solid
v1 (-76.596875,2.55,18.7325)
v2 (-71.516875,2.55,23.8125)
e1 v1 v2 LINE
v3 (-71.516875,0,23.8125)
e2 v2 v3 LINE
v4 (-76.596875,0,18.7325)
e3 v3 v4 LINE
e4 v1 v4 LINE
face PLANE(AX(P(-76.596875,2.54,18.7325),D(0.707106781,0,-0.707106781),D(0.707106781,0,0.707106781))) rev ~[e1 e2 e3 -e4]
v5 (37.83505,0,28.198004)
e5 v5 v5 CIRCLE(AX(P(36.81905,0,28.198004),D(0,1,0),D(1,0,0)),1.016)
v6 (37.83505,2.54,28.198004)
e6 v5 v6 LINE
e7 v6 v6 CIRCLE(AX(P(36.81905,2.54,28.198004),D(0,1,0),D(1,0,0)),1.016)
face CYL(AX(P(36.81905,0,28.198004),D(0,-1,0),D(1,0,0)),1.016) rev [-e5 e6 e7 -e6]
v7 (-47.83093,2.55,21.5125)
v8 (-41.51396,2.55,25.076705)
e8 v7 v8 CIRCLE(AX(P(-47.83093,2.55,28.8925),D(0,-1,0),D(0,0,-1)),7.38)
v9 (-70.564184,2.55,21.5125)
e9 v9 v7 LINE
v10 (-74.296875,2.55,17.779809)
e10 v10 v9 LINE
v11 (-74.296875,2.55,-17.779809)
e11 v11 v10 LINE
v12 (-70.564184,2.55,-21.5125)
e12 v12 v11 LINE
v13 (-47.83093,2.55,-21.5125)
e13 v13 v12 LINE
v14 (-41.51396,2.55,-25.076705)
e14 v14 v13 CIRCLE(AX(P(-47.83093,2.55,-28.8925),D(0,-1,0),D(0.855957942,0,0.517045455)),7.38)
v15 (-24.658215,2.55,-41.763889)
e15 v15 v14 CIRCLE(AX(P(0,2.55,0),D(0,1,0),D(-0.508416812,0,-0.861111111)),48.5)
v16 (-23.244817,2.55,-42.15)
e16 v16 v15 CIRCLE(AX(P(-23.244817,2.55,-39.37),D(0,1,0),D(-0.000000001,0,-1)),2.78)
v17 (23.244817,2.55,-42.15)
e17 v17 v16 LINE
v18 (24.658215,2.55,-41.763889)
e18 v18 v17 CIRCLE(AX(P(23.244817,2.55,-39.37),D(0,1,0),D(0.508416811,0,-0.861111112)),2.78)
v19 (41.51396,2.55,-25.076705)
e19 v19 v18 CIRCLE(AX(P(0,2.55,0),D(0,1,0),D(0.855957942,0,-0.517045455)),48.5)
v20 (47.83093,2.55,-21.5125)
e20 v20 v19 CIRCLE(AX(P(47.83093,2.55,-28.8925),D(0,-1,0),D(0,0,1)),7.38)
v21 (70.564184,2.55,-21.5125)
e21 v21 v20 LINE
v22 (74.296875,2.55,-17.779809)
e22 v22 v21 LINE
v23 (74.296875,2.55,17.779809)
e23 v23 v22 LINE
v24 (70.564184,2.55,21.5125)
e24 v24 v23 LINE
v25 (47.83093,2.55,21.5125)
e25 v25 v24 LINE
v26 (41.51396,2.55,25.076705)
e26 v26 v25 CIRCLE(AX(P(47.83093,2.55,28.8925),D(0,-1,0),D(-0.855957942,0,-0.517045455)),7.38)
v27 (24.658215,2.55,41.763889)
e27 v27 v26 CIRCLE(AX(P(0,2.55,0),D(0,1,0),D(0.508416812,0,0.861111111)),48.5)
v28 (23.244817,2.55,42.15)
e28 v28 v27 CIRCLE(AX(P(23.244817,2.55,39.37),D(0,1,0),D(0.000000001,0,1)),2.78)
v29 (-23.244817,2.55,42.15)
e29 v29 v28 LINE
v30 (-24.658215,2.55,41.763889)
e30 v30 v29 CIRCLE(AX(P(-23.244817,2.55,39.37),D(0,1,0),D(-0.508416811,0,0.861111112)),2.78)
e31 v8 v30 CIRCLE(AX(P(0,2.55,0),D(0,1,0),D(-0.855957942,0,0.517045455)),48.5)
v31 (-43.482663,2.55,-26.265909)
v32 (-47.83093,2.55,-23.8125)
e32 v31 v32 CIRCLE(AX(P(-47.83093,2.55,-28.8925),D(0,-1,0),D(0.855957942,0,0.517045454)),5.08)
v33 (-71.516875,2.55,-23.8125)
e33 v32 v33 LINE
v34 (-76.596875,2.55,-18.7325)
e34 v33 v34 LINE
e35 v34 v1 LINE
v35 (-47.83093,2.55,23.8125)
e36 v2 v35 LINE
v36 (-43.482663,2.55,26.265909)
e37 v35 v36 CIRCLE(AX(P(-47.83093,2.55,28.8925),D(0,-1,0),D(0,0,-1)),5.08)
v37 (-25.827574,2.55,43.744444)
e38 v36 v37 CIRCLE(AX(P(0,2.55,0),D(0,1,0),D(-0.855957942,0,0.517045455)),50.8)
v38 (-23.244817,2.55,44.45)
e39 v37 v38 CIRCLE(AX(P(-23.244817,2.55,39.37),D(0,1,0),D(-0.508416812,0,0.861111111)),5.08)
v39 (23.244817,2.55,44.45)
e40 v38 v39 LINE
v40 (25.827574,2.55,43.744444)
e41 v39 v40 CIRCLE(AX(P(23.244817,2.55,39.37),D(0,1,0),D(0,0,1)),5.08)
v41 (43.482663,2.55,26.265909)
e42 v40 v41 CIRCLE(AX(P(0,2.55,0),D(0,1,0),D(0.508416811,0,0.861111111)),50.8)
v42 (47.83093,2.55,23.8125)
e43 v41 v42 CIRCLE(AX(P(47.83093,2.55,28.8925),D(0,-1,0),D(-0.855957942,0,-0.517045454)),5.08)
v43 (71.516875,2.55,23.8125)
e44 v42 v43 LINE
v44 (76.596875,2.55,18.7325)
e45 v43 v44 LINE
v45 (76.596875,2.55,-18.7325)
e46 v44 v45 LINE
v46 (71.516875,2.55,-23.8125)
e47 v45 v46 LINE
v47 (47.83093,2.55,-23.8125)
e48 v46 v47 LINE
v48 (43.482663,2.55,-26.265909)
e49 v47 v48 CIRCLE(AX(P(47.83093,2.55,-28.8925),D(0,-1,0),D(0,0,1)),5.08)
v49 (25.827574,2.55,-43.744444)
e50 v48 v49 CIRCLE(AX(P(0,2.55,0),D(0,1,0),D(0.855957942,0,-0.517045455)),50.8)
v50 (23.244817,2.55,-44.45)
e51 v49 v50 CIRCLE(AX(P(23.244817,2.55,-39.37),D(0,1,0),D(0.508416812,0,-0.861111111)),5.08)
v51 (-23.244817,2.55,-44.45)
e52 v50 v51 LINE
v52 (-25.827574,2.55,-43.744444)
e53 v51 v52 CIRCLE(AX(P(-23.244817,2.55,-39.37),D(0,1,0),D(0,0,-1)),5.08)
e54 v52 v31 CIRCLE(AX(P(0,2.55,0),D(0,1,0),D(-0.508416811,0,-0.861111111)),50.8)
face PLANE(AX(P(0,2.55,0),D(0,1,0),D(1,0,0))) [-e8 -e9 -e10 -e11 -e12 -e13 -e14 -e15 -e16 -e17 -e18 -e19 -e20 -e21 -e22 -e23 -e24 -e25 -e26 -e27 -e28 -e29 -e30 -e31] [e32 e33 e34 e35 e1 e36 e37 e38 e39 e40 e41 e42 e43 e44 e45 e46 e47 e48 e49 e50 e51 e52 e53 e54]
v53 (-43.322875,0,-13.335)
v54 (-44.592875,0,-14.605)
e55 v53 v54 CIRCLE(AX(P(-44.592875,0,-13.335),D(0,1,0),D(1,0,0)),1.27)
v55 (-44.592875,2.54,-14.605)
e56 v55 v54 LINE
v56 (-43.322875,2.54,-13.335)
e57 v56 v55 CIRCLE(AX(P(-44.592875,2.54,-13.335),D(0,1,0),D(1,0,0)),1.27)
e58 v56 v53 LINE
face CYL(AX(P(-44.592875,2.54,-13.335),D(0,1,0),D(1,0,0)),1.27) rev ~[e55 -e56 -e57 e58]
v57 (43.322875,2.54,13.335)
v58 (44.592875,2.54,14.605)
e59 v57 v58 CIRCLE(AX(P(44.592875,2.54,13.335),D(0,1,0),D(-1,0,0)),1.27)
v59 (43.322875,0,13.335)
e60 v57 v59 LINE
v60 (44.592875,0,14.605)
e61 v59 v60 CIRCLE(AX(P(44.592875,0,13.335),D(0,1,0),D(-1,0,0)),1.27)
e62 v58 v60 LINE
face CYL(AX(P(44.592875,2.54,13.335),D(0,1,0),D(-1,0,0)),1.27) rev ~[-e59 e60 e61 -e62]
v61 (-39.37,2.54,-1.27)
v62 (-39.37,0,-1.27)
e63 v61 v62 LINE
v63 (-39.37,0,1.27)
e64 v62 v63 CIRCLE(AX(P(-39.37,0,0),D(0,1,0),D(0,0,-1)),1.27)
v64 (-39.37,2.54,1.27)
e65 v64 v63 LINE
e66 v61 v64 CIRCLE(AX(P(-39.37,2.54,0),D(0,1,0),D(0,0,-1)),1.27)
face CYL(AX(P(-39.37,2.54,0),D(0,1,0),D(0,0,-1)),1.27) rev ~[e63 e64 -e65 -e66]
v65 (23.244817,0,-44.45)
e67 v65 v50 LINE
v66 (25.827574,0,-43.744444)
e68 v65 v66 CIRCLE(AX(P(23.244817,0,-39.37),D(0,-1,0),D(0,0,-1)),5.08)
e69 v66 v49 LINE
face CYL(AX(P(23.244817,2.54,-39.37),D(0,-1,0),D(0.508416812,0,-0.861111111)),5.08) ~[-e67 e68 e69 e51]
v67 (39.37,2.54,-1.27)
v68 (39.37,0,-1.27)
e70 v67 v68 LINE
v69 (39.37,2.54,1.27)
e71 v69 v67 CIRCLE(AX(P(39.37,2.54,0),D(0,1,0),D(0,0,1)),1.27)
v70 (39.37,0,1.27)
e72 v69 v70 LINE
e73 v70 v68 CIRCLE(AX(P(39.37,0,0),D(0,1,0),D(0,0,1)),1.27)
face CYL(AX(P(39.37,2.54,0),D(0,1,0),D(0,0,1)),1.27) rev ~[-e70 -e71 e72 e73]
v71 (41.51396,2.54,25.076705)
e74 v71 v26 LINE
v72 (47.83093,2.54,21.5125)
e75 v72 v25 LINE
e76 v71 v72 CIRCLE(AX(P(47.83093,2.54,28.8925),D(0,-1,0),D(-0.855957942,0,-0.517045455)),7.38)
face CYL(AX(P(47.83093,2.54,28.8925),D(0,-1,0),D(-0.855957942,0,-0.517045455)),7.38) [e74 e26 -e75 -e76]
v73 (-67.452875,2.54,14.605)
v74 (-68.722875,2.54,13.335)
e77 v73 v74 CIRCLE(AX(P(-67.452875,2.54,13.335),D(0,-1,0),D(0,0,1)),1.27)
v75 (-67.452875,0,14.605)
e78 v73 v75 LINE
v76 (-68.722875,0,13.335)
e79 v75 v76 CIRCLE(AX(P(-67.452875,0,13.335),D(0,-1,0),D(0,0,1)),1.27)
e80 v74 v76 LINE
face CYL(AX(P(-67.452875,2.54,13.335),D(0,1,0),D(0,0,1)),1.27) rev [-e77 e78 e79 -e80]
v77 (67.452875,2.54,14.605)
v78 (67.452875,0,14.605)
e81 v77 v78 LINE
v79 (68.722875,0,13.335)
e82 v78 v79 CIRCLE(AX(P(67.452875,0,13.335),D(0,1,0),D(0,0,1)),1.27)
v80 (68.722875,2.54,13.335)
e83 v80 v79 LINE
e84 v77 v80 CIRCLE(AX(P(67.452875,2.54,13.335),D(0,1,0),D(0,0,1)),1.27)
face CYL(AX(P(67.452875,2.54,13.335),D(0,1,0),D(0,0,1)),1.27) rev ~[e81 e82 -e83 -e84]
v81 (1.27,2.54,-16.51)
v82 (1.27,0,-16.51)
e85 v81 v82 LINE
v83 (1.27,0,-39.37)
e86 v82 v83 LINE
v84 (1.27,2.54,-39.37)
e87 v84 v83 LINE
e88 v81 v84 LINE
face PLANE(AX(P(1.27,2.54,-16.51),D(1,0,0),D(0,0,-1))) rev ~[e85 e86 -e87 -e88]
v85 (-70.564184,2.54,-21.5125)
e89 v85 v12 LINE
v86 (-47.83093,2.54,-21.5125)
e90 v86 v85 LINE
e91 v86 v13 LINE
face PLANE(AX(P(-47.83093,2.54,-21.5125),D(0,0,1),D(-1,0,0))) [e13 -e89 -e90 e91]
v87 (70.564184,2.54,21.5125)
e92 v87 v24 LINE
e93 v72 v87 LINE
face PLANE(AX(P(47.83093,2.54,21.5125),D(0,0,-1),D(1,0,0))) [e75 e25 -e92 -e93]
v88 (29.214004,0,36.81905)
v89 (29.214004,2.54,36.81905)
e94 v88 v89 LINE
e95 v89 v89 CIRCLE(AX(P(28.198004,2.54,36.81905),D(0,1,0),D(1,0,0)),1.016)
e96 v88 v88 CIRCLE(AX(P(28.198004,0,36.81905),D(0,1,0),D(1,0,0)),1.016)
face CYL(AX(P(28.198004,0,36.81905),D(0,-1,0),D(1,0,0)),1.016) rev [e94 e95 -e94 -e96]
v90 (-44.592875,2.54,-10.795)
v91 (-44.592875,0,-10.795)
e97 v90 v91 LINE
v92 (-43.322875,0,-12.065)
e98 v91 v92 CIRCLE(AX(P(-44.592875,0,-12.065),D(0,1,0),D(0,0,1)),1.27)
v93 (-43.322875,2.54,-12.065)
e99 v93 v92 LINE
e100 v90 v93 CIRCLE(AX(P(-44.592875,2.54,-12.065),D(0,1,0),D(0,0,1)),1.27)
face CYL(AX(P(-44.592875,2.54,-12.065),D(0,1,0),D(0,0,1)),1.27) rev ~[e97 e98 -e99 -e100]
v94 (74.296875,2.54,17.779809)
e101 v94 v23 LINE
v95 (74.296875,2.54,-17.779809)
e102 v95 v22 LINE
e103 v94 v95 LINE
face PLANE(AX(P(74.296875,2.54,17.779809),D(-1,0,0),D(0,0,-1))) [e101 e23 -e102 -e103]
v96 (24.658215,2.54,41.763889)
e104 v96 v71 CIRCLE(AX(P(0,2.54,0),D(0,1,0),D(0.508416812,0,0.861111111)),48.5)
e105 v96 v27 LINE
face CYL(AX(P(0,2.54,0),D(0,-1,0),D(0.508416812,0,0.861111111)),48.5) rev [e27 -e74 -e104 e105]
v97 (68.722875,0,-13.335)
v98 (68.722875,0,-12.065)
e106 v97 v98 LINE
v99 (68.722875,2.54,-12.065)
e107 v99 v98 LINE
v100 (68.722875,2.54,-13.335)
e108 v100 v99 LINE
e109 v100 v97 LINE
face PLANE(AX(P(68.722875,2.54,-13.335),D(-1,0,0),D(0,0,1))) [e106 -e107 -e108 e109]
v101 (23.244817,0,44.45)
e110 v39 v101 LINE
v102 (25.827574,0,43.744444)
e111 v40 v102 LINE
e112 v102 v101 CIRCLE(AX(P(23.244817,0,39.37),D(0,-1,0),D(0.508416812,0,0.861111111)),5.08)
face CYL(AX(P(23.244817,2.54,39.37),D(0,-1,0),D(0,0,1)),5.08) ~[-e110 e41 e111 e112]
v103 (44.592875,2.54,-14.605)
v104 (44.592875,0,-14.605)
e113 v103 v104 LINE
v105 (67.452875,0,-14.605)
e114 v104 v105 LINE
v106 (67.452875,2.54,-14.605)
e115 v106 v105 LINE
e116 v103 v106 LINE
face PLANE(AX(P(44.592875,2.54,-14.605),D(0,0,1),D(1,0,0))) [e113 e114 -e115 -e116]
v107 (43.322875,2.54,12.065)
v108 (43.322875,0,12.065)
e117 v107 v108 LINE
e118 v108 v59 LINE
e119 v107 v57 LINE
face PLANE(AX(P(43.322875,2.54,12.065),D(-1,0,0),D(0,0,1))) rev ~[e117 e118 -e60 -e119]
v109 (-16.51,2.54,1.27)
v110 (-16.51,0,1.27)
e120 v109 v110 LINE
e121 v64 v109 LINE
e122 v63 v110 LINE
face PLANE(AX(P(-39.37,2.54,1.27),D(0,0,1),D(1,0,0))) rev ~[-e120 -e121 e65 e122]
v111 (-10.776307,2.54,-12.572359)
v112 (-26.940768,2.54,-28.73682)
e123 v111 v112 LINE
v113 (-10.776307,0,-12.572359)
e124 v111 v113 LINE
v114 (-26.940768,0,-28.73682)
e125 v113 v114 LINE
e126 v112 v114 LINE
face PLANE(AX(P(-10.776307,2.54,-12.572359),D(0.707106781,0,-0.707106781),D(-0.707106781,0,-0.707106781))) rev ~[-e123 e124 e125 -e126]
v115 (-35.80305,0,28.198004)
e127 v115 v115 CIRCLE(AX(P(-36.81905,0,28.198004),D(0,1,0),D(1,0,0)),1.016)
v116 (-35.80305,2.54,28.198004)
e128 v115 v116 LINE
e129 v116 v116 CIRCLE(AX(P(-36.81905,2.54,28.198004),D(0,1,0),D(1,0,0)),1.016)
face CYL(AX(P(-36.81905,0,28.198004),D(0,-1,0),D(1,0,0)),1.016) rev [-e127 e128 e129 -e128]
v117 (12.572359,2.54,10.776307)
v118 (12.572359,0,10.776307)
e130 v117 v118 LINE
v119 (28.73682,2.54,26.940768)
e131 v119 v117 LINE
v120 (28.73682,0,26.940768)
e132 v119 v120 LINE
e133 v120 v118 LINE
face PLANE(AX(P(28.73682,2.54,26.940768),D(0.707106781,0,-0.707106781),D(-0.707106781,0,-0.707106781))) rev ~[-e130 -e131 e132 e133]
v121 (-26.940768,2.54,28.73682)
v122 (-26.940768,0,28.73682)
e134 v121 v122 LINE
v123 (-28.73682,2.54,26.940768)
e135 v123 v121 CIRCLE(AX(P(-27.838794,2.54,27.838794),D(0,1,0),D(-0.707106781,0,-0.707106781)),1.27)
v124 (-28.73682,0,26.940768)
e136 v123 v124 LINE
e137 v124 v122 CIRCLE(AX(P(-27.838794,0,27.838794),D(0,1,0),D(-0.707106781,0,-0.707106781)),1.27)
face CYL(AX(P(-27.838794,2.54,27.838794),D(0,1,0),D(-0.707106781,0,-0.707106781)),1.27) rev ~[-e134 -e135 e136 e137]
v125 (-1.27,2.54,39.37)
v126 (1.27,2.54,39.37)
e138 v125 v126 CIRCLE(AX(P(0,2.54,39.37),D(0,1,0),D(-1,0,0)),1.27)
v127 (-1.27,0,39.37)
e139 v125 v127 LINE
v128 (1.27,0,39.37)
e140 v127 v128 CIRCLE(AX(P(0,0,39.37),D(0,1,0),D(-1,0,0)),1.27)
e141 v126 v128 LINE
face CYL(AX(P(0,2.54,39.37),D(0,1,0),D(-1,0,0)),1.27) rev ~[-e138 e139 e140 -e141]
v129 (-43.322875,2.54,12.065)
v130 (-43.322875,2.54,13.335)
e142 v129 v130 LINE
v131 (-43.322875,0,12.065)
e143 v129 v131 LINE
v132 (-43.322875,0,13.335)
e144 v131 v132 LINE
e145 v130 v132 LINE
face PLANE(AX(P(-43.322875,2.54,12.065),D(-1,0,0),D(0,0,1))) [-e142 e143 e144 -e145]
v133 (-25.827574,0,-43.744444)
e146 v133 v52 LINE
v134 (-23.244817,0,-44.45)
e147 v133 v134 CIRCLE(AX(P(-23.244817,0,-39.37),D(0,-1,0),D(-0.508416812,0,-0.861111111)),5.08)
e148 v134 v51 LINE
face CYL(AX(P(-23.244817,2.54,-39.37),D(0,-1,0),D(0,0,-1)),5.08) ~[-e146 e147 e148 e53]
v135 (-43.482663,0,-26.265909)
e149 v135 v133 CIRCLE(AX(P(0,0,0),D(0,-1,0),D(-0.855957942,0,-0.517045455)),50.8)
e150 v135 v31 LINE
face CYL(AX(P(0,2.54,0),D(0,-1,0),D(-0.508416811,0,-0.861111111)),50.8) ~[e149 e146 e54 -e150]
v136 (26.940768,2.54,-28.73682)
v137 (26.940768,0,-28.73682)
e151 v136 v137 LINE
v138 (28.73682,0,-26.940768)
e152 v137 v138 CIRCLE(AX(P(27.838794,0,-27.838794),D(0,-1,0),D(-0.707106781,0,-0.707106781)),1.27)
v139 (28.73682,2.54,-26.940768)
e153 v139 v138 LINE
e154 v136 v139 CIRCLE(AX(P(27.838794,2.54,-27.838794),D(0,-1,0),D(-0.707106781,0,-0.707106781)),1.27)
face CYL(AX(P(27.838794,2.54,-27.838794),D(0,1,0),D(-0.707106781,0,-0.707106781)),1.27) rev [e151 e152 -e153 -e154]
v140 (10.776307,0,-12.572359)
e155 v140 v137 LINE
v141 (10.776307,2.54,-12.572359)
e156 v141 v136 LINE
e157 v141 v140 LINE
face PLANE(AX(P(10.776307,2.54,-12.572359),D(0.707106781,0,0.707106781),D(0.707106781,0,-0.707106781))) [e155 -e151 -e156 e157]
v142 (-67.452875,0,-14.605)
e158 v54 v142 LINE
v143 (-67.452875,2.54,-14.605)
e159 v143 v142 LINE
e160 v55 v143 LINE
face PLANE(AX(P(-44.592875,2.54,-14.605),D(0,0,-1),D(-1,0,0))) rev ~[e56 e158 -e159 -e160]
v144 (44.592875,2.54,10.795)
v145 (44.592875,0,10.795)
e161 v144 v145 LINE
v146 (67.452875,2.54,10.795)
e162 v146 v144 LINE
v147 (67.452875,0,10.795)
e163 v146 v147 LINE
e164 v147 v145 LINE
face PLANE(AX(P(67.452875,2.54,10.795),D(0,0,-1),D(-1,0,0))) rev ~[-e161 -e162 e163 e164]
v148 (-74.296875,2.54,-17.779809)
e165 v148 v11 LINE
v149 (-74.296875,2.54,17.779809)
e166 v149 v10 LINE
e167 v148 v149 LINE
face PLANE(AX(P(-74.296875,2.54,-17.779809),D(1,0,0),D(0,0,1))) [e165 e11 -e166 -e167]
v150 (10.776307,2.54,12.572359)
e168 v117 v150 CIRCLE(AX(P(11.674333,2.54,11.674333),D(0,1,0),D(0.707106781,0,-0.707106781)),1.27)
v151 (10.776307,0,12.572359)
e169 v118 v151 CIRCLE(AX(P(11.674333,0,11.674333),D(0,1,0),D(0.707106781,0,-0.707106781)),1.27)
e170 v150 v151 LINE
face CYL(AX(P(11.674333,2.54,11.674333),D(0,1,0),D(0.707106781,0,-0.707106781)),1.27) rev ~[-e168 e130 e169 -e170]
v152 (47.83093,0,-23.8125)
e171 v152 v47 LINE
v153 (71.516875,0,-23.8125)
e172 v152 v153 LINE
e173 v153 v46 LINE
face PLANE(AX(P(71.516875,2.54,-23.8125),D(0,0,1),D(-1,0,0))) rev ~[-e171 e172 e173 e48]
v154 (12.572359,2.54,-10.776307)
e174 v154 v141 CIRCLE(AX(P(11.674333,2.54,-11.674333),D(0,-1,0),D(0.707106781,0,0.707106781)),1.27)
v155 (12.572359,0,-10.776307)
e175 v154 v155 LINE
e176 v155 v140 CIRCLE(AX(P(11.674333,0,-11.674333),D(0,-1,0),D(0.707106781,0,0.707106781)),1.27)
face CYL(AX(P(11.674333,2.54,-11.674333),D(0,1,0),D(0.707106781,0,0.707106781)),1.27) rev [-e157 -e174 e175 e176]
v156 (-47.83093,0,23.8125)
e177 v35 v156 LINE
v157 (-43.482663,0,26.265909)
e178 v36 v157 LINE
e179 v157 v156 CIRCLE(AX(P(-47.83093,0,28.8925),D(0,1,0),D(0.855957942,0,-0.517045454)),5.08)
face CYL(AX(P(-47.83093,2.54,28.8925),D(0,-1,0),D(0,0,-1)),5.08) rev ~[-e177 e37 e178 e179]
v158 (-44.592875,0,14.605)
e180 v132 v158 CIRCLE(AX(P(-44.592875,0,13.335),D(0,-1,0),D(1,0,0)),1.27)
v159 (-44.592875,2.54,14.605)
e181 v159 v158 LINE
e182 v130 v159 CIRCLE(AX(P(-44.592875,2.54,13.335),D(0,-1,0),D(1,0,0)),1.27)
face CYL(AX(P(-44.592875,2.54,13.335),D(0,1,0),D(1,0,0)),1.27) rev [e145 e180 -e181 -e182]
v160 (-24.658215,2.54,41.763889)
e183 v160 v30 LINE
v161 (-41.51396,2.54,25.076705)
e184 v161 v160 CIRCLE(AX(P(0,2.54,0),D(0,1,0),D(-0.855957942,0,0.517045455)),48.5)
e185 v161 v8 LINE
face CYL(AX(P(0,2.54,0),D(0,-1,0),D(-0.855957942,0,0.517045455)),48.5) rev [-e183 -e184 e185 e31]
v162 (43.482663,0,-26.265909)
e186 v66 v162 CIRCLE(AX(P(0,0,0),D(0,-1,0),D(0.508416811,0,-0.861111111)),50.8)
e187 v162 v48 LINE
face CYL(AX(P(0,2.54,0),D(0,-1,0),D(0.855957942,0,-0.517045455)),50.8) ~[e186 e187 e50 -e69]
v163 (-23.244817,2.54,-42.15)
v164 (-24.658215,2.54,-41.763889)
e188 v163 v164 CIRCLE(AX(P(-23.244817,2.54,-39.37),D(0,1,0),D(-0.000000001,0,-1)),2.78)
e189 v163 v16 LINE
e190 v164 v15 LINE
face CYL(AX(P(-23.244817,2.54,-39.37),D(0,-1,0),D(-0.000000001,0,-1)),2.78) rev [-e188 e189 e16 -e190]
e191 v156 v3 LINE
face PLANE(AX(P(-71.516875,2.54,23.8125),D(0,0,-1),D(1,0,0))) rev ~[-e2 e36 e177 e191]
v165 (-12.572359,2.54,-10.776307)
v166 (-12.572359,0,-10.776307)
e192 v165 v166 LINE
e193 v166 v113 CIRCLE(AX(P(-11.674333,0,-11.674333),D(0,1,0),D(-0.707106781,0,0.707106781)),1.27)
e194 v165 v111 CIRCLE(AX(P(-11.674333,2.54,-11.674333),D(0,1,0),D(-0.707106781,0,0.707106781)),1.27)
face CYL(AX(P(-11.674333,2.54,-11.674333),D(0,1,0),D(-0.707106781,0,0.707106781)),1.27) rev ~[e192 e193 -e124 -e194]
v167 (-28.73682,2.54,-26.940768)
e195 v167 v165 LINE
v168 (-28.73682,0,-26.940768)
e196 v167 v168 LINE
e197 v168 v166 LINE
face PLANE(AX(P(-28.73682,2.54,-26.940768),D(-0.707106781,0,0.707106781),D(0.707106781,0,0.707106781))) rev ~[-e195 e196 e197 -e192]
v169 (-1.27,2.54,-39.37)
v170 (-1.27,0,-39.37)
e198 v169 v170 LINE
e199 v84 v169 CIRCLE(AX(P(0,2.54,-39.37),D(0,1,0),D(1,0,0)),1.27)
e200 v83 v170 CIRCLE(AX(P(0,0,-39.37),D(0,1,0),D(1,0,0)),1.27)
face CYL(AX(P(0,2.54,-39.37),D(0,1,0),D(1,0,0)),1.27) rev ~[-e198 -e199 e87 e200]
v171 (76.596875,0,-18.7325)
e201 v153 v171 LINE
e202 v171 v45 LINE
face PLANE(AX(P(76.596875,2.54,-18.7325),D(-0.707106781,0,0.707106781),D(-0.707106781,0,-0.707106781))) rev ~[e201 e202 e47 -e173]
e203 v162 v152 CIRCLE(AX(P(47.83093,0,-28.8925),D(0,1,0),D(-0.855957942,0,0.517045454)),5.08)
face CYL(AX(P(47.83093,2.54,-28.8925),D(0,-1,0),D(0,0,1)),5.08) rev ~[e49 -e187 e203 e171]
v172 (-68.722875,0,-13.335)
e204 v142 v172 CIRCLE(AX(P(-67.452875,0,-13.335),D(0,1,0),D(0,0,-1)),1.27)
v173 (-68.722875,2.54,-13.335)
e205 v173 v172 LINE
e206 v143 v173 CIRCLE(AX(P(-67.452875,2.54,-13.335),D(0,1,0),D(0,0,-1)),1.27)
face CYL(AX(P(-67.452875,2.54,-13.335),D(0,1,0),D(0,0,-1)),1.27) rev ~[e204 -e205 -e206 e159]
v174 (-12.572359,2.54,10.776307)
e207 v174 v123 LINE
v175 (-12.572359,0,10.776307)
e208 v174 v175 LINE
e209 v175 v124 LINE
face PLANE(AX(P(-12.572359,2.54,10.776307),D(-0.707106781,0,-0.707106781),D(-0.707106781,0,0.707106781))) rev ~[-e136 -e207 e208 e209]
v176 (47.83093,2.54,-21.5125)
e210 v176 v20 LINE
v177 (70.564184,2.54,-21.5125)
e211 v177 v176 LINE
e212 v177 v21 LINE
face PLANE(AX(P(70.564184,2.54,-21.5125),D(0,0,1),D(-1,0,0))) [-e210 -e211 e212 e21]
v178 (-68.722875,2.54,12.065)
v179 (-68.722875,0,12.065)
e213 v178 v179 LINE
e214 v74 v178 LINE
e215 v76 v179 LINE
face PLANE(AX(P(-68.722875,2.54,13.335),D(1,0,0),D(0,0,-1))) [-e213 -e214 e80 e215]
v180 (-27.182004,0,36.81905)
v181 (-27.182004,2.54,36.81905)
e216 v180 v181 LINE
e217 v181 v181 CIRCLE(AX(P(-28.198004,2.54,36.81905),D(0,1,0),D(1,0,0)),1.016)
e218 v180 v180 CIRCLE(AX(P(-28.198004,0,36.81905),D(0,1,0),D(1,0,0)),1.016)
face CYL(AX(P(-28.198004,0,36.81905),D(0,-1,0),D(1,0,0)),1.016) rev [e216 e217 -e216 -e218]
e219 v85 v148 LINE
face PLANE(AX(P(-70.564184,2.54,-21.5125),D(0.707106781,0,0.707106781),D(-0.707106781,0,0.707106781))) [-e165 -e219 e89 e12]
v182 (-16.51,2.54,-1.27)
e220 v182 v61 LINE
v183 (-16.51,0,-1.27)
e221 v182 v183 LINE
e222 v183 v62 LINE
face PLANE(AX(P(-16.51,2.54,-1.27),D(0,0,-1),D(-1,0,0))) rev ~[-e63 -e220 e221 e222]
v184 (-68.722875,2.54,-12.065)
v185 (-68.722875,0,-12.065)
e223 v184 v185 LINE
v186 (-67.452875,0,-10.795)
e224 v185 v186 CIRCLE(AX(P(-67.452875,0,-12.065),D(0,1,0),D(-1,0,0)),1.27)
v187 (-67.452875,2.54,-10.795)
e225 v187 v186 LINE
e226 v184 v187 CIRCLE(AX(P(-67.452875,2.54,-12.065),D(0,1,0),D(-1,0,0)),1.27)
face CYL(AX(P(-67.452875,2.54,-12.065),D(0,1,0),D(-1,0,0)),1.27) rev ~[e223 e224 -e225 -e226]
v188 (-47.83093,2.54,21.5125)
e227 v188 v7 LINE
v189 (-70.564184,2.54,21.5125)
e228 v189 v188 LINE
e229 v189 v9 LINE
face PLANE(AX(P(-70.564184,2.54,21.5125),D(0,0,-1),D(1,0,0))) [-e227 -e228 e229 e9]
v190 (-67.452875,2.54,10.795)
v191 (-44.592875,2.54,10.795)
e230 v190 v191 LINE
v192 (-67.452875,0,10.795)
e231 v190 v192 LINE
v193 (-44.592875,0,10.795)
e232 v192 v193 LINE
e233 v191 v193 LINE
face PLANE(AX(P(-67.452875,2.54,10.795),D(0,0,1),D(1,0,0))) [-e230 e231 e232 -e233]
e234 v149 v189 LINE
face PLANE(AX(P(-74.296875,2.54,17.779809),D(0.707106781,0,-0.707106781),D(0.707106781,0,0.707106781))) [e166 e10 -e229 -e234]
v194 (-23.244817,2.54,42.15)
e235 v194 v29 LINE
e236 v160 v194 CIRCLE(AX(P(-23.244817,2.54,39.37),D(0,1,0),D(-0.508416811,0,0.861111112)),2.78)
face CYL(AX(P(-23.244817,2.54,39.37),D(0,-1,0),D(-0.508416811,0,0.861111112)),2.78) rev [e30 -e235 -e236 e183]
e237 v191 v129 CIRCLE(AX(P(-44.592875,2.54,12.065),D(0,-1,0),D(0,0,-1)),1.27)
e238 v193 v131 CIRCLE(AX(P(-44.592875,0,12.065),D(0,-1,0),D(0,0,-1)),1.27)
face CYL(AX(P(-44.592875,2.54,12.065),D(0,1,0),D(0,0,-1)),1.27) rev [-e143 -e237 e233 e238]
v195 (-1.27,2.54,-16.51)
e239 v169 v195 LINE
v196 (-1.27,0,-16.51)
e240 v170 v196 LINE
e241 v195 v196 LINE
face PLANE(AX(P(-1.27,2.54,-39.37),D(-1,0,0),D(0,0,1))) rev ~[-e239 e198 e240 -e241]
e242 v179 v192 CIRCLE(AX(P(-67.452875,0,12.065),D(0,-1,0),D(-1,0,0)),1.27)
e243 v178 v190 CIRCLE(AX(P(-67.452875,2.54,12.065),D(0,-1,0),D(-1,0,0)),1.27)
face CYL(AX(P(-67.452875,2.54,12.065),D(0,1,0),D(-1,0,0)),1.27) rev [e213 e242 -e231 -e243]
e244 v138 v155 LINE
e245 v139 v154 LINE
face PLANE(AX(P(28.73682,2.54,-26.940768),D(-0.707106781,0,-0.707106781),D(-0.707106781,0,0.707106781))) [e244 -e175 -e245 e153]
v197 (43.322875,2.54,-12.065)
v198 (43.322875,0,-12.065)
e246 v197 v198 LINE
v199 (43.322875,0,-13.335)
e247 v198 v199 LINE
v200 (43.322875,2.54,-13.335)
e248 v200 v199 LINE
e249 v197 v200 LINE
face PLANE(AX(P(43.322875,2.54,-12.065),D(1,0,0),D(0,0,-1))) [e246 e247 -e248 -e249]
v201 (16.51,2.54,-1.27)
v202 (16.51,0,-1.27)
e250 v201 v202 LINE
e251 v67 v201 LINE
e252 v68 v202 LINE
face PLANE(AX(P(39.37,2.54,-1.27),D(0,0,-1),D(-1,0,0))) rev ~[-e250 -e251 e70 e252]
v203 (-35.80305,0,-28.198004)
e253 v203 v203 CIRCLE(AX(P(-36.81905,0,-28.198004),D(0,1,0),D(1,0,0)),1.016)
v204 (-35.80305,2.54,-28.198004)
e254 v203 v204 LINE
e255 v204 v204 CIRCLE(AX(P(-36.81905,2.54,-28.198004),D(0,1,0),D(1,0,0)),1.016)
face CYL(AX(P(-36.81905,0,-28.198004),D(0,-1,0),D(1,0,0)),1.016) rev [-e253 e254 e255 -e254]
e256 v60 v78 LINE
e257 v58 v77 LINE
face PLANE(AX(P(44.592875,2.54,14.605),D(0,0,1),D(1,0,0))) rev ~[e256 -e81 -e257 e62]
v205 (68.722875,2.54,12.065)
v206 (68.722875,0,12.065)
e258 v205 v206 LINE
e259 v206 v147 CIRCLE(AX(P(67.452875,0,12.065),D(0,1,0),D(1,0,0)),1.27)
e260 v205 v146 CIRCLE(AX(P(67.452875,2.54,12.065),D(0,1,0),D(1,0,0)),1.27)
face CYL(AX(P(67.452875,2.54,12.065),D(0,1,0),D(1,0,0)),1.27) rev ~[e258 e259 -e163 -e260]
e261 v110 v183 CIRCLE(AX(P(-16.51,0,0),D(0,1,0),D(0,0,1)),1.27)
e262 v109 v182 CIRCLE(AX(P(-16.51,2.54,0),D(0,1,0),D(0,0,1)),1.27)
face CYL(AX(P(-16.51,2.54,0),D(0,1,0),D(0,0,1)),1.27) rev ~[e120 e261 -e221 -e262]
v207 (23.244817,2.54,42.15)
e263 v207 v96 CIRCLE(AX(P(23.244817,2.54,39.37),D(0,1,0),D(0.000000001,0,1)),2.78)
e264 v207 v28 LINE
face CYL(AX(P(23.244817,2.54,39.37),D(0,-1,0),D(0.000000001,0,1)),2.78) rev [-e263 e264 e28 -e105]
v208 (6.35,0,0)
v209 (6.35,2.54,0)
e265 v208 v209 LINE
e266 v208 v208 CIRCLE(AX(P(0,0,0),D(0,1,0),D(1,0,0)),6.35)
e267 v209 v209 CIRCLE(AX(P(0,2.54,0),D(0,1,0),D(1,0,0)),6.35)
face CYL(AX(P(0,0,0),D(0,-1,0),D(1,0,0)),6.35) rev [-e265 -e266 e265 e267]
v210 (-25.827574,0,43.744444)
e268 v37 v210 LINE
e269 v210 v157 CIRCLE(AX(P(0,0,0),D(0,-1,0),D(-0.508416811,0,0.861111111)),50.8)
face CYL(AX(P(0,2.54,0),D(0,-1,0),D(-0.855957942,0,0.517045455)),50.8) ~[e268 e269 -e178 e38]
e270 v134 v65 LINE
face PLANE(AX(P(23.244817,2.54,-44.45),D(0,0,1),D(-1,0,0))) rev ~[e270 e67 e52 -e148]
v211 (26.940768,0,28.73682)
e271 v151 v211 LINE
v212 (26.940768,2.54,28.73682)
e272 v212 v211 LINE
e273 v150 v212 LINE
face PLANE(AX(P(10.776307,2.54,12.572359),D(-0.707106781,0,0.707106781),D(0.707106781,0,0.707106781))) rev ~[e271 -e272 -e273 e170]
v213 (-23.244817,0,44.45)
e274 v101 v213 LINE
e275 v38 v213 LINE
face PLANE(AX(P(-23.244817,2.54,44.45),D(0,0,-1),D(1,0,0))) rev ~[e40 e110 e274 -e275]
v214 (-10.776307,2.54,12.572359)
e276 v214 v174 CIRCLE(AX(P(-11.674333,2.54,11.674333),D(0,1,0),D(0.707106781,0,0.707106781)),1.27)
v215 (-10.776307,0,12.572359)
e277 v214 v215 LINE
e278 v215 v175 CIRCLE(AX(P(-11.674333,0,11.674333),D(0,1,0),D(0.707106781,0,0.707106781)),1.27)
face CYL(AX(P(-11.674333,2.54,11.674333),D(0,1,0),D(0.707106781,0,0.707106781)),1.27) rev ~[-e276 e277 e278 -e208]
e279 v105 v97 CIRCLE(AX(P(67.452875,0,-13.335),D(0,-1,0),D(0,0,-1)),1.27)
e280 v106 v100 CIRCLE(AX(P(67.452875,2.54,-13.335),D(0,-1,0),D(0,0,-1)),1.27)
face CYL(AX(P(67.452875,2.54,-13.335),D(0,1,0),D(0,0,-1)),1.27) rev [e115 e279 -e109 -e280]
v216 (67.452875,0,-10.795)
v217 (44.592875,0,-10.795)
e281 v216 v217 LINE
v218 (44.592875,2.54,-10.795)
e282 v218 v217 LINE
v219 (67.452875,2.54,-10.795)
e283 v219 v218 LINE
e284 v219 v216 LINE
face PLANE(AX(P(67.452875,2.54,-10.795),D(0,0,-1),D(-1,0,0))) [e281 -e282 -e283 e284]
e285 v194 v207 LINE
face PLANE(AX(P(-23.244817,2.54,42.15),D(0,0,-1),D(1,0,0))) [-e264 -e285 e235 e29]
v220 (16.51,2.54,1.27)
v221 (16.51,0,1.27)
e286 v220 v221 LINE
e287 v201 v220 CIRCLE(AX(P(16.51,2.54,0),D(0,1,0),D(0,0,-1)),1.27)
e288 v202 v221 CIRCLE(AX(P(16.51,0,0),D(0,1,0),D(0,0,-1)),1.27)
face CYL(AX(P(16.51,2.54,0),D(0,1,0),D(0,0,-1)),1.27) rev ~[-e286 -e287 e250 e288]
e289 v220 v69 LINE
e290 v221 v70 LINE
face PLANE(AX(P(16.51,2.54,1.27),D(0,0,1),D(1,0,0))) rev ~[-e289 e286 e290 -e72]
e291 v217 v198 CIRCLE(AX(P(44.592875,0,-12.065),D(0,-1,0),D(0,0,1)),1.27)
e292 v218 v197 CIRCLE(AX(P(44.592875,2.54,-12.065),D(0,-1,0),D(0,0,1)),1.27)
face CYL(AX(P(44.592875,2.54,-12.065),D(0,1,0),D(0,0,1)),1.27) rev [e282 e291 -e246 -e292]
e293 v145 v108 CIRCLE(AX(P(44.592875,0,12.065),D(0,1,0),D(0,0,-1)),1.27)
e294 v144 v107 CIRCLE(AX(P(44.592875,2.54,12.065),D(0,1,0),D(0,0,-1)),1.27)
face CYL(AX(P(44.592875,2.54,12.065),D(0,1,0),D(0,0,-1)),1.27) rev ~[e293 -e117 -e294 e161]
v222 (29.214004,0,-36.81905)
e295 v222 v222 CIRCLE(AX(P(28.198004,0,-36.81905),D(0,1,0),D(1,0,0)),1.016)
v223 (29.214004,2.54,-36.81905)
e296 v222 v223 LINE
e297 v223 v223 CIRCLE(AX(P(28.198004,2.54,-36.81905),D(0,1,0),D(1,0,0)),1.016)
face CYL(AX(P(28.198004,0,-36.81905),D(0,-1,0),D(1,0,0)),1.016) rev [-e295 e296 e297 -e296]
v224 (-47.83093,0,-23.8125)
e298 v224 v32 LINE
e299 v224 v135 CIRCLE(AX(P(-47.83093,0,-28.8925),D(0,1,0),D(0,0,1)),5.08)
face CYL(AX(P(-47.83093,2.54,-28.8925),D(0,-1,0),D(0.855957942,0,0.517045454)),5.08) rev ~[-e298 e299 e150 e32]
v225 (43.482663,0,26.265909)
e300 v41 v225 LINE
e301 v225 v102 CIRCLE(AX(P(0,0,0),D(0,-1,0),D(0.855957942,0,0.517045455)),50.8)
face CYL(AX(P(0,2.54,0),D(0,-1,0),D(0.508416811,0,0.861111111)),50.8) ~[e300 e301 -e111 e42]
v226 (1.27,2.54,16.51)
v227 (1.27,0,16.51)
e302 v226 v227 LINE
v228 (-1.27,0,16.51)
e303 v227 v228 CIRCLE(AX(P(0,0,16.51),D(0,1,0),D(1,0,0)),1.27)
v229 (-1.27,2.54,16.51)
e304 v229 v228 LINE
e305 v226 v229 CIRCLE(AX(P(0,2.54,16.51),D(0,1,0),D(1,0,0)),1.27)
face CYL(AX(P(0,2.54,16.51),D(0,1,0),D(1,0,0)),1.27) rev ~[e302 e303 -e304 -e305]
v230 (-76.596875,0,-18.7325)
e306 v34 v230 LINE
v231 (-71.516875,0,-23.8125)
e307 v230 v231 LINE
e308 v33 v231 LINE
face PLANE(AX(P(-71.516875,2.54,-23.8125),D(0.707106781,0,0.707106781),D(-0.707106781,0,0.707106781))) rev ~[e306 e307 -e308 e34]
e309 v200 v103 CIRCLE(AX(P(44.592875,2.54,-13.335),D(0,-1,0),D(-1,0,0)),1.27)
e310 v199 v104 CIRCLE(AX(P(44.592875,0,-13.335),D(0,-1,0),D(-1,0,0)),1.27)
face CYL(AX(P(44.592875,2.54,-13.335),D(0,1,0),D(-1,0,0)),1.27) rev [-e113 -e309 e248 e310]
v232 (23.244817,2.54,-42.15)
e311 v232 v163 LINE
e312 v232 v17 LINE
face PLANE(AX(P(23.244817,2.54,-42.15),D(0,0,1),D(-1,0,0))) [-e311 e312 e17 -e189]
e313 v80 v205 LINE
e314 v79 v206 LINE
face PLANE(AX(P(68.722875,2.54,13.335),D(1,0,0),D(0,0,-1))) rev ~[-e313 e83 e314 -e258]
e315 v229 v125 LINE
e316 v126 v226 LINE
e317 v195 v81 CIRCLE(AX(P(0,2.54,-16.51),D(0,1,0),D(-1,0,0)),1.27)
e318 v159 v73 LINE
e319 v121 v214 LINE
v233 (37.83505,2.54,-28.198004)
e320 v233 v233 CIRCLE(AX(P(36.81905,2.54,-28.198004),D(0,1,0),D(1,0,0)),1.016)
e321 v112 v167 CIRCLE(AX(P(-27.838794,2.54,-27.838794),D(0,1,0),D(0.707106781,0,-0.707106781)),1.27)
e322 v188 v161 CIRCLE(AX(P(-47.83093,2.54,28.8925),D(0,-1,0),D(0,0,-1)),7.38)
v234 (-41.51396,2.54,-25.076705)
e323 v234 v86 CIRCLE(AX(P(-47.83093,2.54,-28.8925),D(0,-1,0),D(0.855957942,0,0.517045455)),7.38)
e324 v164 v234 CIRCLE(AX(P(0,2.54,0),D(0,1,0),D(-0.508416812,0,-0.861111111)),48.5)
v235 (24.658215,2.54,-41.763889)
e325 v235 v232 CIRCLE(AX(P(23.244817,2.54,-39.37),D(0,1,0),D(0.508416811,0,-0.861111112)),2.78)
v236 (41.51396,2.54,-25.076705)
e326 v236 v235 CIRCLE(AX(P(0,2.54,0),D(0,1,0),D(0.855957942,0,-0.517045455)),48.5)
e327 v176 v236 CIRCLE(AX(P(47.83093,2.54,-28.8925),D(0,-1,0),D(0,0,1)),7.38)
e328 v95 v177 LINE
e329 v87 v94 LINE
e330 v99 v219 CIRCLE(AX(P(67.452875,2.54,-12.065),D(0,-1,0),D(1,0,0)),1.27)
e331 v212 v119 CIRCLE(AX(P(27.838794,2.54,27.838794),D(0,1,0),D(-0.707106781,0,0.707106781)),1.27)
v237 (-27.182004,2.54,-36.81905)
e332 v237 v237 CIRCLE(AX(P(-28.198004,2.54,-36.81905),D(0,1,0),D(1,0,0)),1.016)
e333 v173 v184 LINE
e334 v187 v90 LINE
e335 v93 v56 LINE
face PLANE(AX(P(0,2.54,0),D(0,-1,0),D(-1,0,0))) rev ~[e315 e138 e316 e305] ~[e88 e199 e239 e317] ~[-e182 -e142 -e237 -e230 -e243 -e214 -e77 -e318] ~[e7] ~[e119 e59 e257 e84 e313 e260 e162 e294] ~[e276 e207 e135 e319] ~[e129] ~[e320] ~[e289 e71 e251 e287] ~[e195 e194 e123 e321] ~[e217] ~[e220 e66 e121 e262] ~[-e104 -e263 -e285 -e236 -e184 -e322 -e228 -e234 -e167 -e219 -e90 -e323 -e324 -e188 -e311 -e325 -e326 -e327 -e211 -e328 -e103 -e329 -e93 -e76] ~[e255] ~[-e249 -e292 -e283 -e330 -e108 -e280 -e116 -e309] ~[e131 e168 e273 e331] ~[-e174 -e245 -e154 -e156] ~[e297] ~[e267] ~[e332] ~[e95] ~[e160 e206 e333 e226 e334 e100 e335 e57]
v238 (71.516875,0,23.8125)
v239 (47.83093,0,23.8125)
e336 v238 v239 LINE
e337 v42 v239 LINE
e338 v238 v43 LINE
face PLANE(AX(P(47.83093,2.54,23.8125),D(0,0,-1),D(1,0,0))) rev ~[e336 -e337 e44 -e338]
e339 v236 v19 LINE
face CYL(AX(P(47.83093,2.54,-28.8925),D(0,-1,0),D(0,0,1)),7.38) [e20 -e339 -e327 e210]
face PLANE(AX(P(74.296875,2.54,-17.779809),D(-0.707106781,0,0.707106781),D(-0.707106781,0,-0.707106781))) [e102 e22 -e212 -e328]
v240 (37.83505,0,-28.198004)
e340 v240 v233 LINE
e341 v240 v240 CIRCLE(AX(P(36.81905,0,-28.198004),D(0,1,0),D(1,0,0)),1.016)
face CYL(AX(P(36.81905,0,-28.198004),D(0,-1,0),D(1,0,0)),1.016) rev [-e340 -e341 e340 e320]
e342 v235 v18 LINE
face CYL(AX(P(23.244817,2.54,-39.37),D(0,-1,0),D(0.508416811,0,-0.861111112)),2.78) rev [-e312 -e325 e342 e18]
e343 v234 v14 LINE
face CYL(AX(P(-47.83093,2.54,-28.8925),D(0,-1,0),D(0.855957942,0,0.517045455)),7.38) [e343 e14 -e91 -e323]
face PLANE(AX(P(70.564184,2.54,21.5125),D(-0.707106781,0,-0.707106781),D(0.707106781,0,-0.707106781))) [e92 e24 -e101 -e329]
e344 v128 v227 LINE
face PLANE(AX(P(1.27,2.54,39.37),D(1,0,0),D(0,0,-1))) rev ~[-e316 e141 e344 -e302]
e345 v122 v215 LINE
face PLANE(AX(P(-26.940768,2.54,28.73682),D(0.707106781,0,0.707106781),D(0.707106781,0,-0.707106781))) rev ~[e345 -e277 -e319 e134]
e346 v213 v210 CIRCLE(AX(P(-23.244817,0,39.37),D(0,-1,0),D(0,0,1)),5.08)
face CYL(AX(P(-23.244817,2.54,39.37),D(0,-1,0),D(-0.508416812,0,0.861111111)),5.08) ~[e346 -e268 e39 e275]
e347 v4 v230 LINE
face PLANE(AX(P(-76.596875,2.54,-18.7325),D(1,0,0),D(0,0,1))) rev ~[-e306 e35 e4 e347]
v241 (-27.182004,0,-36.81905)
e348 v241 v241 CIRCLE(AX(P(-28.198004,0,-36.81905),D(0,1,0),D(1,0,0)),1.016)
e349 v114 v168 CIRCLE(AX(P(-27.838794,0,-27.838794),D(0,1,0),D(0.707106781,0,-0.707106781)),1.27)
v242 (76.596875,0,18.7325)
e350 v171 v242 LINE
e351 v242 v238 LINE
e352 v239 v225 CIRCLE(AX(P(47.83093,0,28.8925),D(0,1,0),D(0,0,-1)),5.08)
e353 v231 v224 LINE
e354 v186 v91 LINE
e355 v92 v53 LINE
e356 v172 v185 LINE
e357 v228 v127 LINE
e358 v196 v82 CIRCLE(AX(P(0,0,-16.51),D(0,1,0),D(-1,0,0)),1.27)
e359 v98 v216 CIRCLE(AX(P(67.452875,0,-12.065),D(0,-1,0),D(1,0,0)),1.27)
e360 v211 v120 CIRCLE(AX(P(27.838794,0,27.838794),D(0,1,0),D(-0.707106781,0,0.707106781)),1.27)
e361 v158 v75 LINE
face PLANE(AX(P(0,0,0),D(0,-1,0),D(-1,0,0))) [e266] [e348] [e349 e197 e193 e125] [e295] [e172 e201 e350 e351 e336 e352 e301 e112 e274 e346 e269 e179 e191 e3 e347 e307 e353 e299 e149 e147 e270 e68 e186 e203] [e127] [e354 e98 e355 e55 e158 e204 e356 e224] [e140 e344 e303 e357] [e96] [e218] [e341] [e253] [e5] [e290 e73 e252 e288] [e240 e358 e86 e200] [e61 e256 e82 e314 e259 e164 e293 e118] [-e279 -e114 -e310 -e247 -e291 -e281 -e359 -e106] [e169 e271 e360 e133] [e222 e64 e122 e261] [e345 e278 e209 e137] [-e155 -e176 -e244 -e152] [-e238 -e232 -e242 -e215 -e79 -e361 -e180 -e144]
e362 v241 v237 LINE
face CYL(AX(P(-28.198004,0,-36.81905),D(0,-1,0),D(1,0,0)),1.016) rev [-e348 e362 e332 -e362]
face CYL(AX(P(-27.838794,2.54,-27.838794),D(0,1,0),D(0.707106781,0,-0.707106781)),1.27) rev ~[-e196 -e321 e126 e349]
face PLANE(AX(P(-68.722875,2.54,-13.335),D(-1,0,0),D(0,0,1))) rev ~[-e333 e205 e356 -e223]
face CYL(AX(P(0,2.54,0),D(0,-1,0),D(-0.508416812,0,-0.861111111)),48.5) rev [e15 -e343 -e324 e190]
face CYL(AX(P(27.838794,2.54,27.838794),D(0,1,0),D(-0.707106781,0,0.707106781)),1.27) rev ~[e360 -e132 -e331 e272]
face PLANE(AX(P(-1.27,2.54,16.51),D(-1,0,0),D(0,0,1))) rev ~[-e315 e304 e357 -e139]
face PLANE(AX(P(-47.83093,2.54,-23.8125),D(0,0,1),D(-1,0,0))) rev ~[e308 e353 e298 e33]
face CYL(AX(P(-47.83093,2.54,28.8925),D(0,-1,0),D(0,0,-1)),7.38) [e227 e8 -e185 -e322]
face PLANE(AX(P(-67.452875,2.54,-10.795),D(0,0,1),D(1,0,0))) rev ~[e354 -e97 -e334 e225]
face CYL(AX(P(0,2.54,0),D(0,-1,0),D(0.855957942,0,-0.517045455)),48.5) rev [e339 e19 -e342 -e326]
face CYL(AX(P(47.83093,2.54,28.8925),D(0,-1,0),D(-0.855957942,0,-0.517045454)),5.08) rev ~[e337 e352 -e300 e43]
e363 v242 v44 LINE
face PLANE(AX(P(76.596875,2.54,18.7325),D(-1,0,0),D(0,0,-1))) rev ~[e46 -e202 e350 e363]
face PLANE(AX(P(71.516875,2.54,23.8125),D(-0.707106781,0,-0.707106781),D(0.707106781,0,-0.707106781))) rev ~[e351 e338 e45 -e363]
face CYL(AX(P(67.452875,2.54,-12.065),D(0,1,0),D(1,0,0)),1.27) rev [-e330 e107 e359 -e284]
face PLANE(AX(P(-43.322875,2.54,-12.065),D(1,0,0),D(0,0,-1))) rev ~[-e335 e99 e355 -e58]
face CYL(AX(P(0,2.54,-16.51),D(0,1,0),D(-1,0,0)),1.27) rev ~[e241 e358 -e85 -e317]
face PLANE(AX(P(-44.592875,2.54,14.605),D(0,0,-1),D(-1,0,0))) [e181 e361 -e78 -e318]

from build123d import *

# Parameters (mm, degrees)
SKETCH1_R           = 6.35
SKETCH1_R_2         = 1.016
SKETCH1_R_3         = 0.080960088
BOSS_EXTRUDE1_DEPTH = 2.54
CUT_EXTRUDE1_DEPTH  = 2.54
CUT_EXTRUDE2_DEPTH  = 2.54
BOSS_EXTRUDE2_DEPTH = 0.01


with BuildPart() as part:
    # Sketch1 → Boss-Extrude1 (new body)
    with BuildSketch(Plane(origin=(0, 0, 0), x_dir=(1, 0, 0), z_dir=(0, 1, 0))):
        with BuildLine():
            Line((-23.244816627, 44.45), (23.244816627, 44.45))
            ThreePointArc((23.244816627, 44.45), (24.583514169, 44.270437622), (25.827574029, 43.744444444))
            ThreePointArc((25.827574029, 43.744444444), (35.740062311, 36.101079569), (43.482663438, 26.265909091))
            ThreePointArc((43.482663438, 26.265909091), (45.334600658, 24.468164919), (47.830929781, 23.8125))
            Line((47.830929781, 23.8125), (71.516875, 23.8125))
            Line((71.516875, 23.8125), (76.596875, 18.7325))
            Line((76.596875, 18.7325), (76.596875, -18.7325))
            Line((76.596875, -18.7325), (71.516875, -23.8125))
            Line((71.516875, -23.8125), (47.830929781, -23.8125))
            ThreePointArc((47.830929781, -23.8125), (45.334600658, -24.468164919), (43.482663438, -26.265909091))
            ThreePointArc((43.482663438, -26.265909091), (35.740062311, -36.101079569), (25.827574029, -43.744444444))
            ThreePointArc((25.827574029, -43.744444444), (24.583514169, -44.270437622), (23.244816627, -44.45))
            Line((23.244816627, -44.45), (-23.244816627, -44.45))
            ThreePointArc((-23.244816627, -44.45), (-24.583514169, -44.270437622), (-25.827574029, -43.744444444))
            ThreePointArc((-25.827574029, -43.744444444), (-35.740062311, -36.101079569), (-43.482663438, -26.265909091))
            ThreePointArc((-43.482663438, -26.265909091), (-45.334600658, -24.468164919), (-47.830929781, -23.8125))
            Line((-47.830929781, -23.8125), (-71.516875, -23.8125))
            Line((-71.516875, -23.8125), (-76.596875, -18.7325))
            Line((-76.596875, -18.7325), (-76.596875, 18.7325))
            Line((-76.596875, 18.7325), (-71.516875, 23.8125))
            Line((-71.516875, 23.8125), (-47.830929781, 23.8125))
            ThreePointArc((-47.830929781, 23.8125), (-45.334600658, 24.468164919), (-43.482663438, 26.265909091))
            ThreePointArc((-43.482663438, 26.265909091), (-35.740062311, 36.101079569), (-25.827574029, 43.744444444))
            ThreePointArc((-25.827574029, 43.744444444), (-24.583514169, 44.270437622), (-23.244816627, 44.45))
        make_face()
        Circle(SKETCH1_R, mode=Mode.SUBTRACT)
        with Locations((36.819050096, 28.19800422)):
            Circle(SKETCH1_R_2, mode=Mode.SUBTRACT)
        with Locations((28.19800422, 36.819050096)):
            Circle(SKETCH1_R_2, mode=Mode.SUBTRACT)
        with Locations((26.671582547, 26.671582547)):
            Circle(SKETCH1_R_3, mode=Mode.SUBTRACT)
        with Locations((26.671582547, -26.671582547)):
            Circle(SKETCH1_R_3, mode=Mode.SUBTRACT)
        with Locations((36.819050096, -28.19800422)):
            Circle(SKETCH1_R_2, mode=Mode.SUBTRACT)
        with Locations((28.19800422, -36.819050096)):
            Circle(SKETCH1_R_2, mode=Mode.SUBTRACT)
        with Locations((-26.671582547, -26.671582547)):
            Circle(SKETCH1_R_3, mode=Mode.SUBTRACT)
        with Locations((-28.19800422, -36.819050096)):
            Circle(SKETCH1_R_2, mode=Mode.SUBTRACT)
        with Locations((-36.819050096, -28.19800422)):
            Circle(SKETCH1_R_2, mode=Mode.SUBTRACT)
        with Locations((-26.671582547, 26.671582547)):
            Circle(SKETCH1_R_3, mode=Mode.SUBTRACT)
        with Locations((-36.819050096, 28.19800422)):
            Circle(SKETCH1_R_2, mode=Mode.SUBTRACT)
        with Locations((-28.19800422, 36.819050096)):
            Circle(SKETCH1_R_2, mode=Mode.SUBTRACT)
    extrude(amount=BOSS_EXTRUDE1_DEPTH)

    # Sketch3 → Cut-Extrude1 (cut)
    with BuildSketch(Plane(origin=(0, 2.54, 0), x_dir=(1, 0, 0), z_dir=(0, 1, 0))):
        with BuildLine():
            Line((10.776307345, 12.572358569), (26.940768363, 28.736819587))
            ThreePointArc((26.940768363, 28.736819587), (28.736819587, 28.736819587), (28.736819587, 26.940768363))
            Line((28.736819587, 26.940768363), (12.572358569, 10.776307345))
            ThreePointArc((12.572358569, 10.776307345), (10.776307345, 10.776307345), (10.776307345, 12.572358569))
        make_face()
        with BuildLine():
            Line((16.51, -1.27), (39.37, -1.27))
            ThreePointArc((39.37, -1.27), (40.64, 0), (39.37, 1.27))
            Line((39.37, 1.27), (16.51, 1.27))
            ThreePointArc((16.51, 1.27), (15.24, 0), (16.51, -1.27))
        make_face()
        with BuildLine():
            Line((10.776307345, -12.572358569), (26.940768363, -28.736819587))
            ThreePointArc((26.940768363, -28.736819587), (28.736819587, -28.736819587), (28.736819587, -26.940768363))
            Line((28.736819587, -26.940768363), (12.572358569, -10.776307345))
            ThreePointArc((12.572358569, -10.776307345), (10.776307345, -10.776307345), (10.776307345, -12.572358569))
        make_face()
        with BuildLine():
            Line((-1.27, -16.51), (-1.27, -39.37))
            ThreePointArc((-1.27, -39.37), (0, -40.64), (1.27, -39.37))
            Line((1.27, -39.37), (1.27, -16.51))
            ThreePointArc((1.27, -16.51), (0, -15.24), (-1.27, -16.51))
        make_face()
        with BuildLine():
            Line((-12.572358569, -10.776307345), (-28.736819587, -26.940768363))
            ThreePointArc((-28.736819587, -26.940768363), (-28.736819587, -28.736819587), (-26.940768363, -28.736819587))
            Line((-26.940768363, -28.736819587), (-10.776307345, -12.572358569))
            ThreePointArc((-10.776307345, -12.572358569), (-10.776307345, -10.776307345), (-12.572358569, -10.776307345))
        make_face()
        with BuildLine():
            Line((-16.51, 1.27), (-39.37, 1.27))
            ThreePointArc((-39.37, 1.27), (-40.64, 0), (-39.37, -1.27))
            Line((-39.37, -1.27), (-16.51, -1.27))
            ThreePointArc((-16.51, -1.27), (-15.24, 0), (-16.51, 1.27))
        make_face()
        with BuildLine():
            Line((-10.776307345, 12.572358569), (-26.940768363, 28.736819587))
            ThreePointArc((-26.940768363, 28.736819587), (-28.736819587, 28.736819587), (-28.736819587, 26.940768363))
            Line((-28.736819587, 26.940768363), (-12.572358569, 10.776307345))
            ThreePointArc((-12.572358569, 10.776307345), (-10.776307345, 10.776307345), (-10.776307345, 12.572358569))
        make_face()
        with BuildLine():
            Line((1.27, 16.51), (1.27, 39.37))
            ThreePointArc((1.27, 39.37), (0, 40.64), (-1.27, 39.37))
            Line((-1.27, 39.37), (-1.27, 16.51))
            ThreePointArc((-1.27, 16.51), (0, 15.24), (1.27, 16.51))
        make_face()
    extrude(amount=-CUT_EXTRUDE1_DEPTH, mode=Mode.SUBTRACT)

    # Sketch4 → Cut-Extrude2 (cut)
    with BuildSketch(Plane(origin=(0, 2.54, 0), x_dir=(1, 0, 0), z_dir=(0, 1, 0))):
        with BuildLine():
            Line((44.592875, 14.605), (67.452875, 14.605))
            ThreePointArc((67.452875, 14.605), (68.350900612, 14.233025612), (68.722875, 13.335))
            Line((68.722875, 13.335), (68.722875, 12.065))
            ThreePointArc((68.722875, 12.065), (68.350900612, 11.166974388), (67.452875, 10.795))
            Line((67.452875, 10.795), (44.592875, 10.795))
            ThreePointArc((44.592875, 10.795), (43.694849388, 11.166974388), (43.322875, 12.065))
            Line((43.322875, 12.065), (43.322875, 13.335))
            ThreePointArc((43.322875, 13.335), (43.694849388, 14.233025612), (44.592875, 14.605))
        make_face()
        with BuildLine():
            Line((68.722875, -13.335), (68.722875, -12.065))
            ThreePointArc((68.722875, -12.065), (68.350900612, -11.166974388), (67.452875, -10.795))
            Line((67.452875, -10.795), (44.592875, -10.795))
            ThreePointArc((44.592875, -10.795), (43.694849388, -11.166974388), (43.322875, -12.065))
            Line((43.322875, -12.065), (43.322875, -13.335))
            ThreePointArc((43.322875, -13.335), (43.694849388, -14.233025612), (44.592875, -14.605))
            Line((44.592875, -14.605), (67.452875, -14.605))
            ThreePointArc((67.452875, -14.605), (68.350900612, -14.233025612), (68.722875, -13.335))
        make_face()
        with BuildLine():
            Line((-44.592875, -14.605), (-67.452875, -14.605))
            ThreePointArc((-67.452875, -14.605), (-68.350900612, -14.233025612), (-68.722875, -13.335))
            Line((-68.722875, -13.335), (-68.722875, -12.065))
            ThreePointArc((-68.722875, -12.065), (-68.350900612, -11.166974388), (-67.452875, -10.795))
            Line((-67.452875, -10.795), (-44.592875, -10.795))
            ThreePointArc((-44.592875, -10.795), (-43.694849388, -11.166974388), (-43.322875, -12.065))
            Line((-43.322875, -12.065), (-43.322875, -13.335))
            ThreePointArc((-43.322875, -13.335), (-43.694849388, -14.233025612), (-44.592875, -14.605))
        make_face()
        with BuildLine():
            Line((-68.722875, 13.335), (-68.722875, 12.065))
            ThreePointArc((-68.722875, 12.065), (-68.350900612, 11.166974388), (-67.452875, 10.795))
            Line((-67.452875, 10.795), (-44.592875, 10.795))
            ThreePointArc((-44.592875, 10.795), (-43.694849388, 11.166974388), (-43.322875, 12.065))
            Line((-43.322875, 12.065), (-43.322875, 13.335))
            ThreePointArc((-43.322875, 13.335), (-43.694849388, 14.233025612), (-44.592875, 14.605))
            Line((-44.592875, 14.605), (-67.452875, 14.605))
            ThreePointArc((-67.452875, 14.605), (-68.350900612, 14.233025612), (-68.722875, 13.335))
        make_face()
    extrude(amount=-CUT_EXTRUDE2_DEPTH, mode=Mode.SUBTRACT)

    # Sketch8 → Boss-Extrude2 (add)
    with BuildSketch(Plane(origin=(0, 2.54, 0), x_dir=(1, 0, 0), z_dir=(0, 1, 0))):
        with BuildLine():
            Line((47.830929781, -23.8125), (71.516875, -23.8125))
            Line((71.516875, -23.8125), (76.596875, -18.7325))
            Line((76.596875, -18.7325), (76.596875, 18.7325))
            Line((76.596875, 18.7325), (71.516875, 23.8125))
            Line((71.516875, 23.8125), (47.830929781, 23.8125))
            ThreePointArc((47.830929781, 23.8125), (45.334600658, 24.468164919), (43.482663438, 26.265909091))
            ThreePointArc((43.482663438, 26.265909091), (35.740062311, 36.101079569), (25.827574029, 43.744444444))
            ThreePointArc((25.827574029, 43.744444444), (24.583514169, 44.270437622), (23.244816627, 44.45))
            Line((23.244816627, 44.45), (-23.244816627, 44.45))
            ThreePointArc((-23.244816627, 44.45), (-24.583514169, 44.270437622), (-25.827574029, 43.744444444))
            ThreePointArc((-25.827574029, 43.744444444), (-35.740062311, 36.101079569), (-43.482663438, 26.265909091))
            ThreePointArc((-43.482663438, 26.265909091), (-45.334600658, 24.468164919), (-47.830929781, 23.8125))
            Line((-47.830929781, 23.8125), (-71.516875, 23.8125))
            Line((-71.516875, 23.8125), (-76.596875, 18.7325))
            Line((-76.596875, 18.7325), (-76.596875, -18.7325))
            Line((-76.596875, -18.7325), (-71.516875, -23.8125))
            Line((-71.516875, -23.8125), (-47.830929781, -23.8125))
            ThreePointArc((-47.830929781, -23.8125), (-45.334600658, -24.468164919), (-43.482663438, -26.265909091))
            ThreePointArc((-43.482663438, -26.265909091), (-35.740062311, -36.101079569), (-25.827574029, -43.744444444))
            ThreePointArc((-25.827574029, -43.744444444), (-24.583514169, -44.270437622), (-23.244816627, -44.45))
            Line((-23.244816627, -44.45), (23.244816627, -44.45))
            ThreePointArc((23.244816627, -44.45), (24.583514169, -44.270437622), (25.827574029, -43.744444444))
            ThreePointArc((25.827574029, -43.744444444), (35.740062311, -36.101079569), (43.482663438, -26.265909091))
            ThreePointArc((43.482663438, -26.265909091), (45.334600658, -24.468164919), (47.830929781, -23.8125))
        make_face()
        with BuildLine():
            Line((47.830929781, -21.5125), (70.564183807, -21.5125))
            Line((70.564183807, -21.5125), (74.296875, -17.779808807))
            Line((74.296875, -17.779808807), (74.296875, 17.779808807))
            Line((74.296875, 17.779808807), (70.564183807, 21.5125))
            Line((70.564183807, 21.5125), (47.830929781, 21.5125))
            ThreePointArc((47.830929781, 21.5125), (44.204372906, 22.465021083), (41.513960172, 25.076704545))
            ThreePointArc((41.513960172, 25.076704545), (34.121909883, 34.466581872), (24.658215363, 41.763888889))
            ThreePointArc((24.658215363, 41.763888889), (23.977410951, 42.051735549), (23.244816627, 42.15))
            Line((23.244816627, 42.15), (-23.244816627, 42.15))
            ThreePointArc((-23.244816627, 42.15), (-23.977410951, 42.051735549), (-24.658215363, 41.763888889))
            ThreePointArc((-24.658215363, 41.763888889), (-34.121909883, 34.466581872), (-41.513960172, 25.076704545))
            ThreePointArc((-41.513960172, 25.076704545), (-44.204372906, 22.465021083), (-47.830929781, 21.5125))
            Line((-47.830929781, 21.5125), (-70.564183807, 21.5125))
            Line((-70.564183807, 21.5125), (-74.296875, 17.779808807))
            Line((-74.296875, 17.779808807), (-74.296875, -17.779808807))
            Line((-74.296875, -17.779808807), (-70.564183807, -21.5125))
            Line((-70.564183807, -21.5125), (-47.830929781, -21.5125))
            ThreePointArc((-47.830929781, -21.5125), (-44.204372906, -22.465021083), (-41.513960172, -25.076704545))
            ThreePointArc((-41.513960172, -25.076704545), (-34.121909883, -34.466581872), (-24.658215363, -41.763888889))
            ThreePointArc((-24.658215363, -41.763888889), (-23.977410951, -42.051735549), (-23.244816627, -42.15))
            Line((-23.244816627, -42.15), (23.244816627, -42.15))
            ThreePointArc((23.244816627, -42.15), (23.977410951, -42.051735549), (24.658215363, -41.763888889))
            ThreePointArc((24.658215363, -41.763888889), (34.121909883, -34.466581872), (41.513960172, -25.076704545))
            ThreePointArc((41.513960172, -25.076704545), (44.204372906, -22.465021083), (47.830929781, -21.5125))
        make_face(mode=Mode.SUBTRACT)
    extrude(amount=BOSS_EXTRUDE2_DEPTH)


solid = part.part
